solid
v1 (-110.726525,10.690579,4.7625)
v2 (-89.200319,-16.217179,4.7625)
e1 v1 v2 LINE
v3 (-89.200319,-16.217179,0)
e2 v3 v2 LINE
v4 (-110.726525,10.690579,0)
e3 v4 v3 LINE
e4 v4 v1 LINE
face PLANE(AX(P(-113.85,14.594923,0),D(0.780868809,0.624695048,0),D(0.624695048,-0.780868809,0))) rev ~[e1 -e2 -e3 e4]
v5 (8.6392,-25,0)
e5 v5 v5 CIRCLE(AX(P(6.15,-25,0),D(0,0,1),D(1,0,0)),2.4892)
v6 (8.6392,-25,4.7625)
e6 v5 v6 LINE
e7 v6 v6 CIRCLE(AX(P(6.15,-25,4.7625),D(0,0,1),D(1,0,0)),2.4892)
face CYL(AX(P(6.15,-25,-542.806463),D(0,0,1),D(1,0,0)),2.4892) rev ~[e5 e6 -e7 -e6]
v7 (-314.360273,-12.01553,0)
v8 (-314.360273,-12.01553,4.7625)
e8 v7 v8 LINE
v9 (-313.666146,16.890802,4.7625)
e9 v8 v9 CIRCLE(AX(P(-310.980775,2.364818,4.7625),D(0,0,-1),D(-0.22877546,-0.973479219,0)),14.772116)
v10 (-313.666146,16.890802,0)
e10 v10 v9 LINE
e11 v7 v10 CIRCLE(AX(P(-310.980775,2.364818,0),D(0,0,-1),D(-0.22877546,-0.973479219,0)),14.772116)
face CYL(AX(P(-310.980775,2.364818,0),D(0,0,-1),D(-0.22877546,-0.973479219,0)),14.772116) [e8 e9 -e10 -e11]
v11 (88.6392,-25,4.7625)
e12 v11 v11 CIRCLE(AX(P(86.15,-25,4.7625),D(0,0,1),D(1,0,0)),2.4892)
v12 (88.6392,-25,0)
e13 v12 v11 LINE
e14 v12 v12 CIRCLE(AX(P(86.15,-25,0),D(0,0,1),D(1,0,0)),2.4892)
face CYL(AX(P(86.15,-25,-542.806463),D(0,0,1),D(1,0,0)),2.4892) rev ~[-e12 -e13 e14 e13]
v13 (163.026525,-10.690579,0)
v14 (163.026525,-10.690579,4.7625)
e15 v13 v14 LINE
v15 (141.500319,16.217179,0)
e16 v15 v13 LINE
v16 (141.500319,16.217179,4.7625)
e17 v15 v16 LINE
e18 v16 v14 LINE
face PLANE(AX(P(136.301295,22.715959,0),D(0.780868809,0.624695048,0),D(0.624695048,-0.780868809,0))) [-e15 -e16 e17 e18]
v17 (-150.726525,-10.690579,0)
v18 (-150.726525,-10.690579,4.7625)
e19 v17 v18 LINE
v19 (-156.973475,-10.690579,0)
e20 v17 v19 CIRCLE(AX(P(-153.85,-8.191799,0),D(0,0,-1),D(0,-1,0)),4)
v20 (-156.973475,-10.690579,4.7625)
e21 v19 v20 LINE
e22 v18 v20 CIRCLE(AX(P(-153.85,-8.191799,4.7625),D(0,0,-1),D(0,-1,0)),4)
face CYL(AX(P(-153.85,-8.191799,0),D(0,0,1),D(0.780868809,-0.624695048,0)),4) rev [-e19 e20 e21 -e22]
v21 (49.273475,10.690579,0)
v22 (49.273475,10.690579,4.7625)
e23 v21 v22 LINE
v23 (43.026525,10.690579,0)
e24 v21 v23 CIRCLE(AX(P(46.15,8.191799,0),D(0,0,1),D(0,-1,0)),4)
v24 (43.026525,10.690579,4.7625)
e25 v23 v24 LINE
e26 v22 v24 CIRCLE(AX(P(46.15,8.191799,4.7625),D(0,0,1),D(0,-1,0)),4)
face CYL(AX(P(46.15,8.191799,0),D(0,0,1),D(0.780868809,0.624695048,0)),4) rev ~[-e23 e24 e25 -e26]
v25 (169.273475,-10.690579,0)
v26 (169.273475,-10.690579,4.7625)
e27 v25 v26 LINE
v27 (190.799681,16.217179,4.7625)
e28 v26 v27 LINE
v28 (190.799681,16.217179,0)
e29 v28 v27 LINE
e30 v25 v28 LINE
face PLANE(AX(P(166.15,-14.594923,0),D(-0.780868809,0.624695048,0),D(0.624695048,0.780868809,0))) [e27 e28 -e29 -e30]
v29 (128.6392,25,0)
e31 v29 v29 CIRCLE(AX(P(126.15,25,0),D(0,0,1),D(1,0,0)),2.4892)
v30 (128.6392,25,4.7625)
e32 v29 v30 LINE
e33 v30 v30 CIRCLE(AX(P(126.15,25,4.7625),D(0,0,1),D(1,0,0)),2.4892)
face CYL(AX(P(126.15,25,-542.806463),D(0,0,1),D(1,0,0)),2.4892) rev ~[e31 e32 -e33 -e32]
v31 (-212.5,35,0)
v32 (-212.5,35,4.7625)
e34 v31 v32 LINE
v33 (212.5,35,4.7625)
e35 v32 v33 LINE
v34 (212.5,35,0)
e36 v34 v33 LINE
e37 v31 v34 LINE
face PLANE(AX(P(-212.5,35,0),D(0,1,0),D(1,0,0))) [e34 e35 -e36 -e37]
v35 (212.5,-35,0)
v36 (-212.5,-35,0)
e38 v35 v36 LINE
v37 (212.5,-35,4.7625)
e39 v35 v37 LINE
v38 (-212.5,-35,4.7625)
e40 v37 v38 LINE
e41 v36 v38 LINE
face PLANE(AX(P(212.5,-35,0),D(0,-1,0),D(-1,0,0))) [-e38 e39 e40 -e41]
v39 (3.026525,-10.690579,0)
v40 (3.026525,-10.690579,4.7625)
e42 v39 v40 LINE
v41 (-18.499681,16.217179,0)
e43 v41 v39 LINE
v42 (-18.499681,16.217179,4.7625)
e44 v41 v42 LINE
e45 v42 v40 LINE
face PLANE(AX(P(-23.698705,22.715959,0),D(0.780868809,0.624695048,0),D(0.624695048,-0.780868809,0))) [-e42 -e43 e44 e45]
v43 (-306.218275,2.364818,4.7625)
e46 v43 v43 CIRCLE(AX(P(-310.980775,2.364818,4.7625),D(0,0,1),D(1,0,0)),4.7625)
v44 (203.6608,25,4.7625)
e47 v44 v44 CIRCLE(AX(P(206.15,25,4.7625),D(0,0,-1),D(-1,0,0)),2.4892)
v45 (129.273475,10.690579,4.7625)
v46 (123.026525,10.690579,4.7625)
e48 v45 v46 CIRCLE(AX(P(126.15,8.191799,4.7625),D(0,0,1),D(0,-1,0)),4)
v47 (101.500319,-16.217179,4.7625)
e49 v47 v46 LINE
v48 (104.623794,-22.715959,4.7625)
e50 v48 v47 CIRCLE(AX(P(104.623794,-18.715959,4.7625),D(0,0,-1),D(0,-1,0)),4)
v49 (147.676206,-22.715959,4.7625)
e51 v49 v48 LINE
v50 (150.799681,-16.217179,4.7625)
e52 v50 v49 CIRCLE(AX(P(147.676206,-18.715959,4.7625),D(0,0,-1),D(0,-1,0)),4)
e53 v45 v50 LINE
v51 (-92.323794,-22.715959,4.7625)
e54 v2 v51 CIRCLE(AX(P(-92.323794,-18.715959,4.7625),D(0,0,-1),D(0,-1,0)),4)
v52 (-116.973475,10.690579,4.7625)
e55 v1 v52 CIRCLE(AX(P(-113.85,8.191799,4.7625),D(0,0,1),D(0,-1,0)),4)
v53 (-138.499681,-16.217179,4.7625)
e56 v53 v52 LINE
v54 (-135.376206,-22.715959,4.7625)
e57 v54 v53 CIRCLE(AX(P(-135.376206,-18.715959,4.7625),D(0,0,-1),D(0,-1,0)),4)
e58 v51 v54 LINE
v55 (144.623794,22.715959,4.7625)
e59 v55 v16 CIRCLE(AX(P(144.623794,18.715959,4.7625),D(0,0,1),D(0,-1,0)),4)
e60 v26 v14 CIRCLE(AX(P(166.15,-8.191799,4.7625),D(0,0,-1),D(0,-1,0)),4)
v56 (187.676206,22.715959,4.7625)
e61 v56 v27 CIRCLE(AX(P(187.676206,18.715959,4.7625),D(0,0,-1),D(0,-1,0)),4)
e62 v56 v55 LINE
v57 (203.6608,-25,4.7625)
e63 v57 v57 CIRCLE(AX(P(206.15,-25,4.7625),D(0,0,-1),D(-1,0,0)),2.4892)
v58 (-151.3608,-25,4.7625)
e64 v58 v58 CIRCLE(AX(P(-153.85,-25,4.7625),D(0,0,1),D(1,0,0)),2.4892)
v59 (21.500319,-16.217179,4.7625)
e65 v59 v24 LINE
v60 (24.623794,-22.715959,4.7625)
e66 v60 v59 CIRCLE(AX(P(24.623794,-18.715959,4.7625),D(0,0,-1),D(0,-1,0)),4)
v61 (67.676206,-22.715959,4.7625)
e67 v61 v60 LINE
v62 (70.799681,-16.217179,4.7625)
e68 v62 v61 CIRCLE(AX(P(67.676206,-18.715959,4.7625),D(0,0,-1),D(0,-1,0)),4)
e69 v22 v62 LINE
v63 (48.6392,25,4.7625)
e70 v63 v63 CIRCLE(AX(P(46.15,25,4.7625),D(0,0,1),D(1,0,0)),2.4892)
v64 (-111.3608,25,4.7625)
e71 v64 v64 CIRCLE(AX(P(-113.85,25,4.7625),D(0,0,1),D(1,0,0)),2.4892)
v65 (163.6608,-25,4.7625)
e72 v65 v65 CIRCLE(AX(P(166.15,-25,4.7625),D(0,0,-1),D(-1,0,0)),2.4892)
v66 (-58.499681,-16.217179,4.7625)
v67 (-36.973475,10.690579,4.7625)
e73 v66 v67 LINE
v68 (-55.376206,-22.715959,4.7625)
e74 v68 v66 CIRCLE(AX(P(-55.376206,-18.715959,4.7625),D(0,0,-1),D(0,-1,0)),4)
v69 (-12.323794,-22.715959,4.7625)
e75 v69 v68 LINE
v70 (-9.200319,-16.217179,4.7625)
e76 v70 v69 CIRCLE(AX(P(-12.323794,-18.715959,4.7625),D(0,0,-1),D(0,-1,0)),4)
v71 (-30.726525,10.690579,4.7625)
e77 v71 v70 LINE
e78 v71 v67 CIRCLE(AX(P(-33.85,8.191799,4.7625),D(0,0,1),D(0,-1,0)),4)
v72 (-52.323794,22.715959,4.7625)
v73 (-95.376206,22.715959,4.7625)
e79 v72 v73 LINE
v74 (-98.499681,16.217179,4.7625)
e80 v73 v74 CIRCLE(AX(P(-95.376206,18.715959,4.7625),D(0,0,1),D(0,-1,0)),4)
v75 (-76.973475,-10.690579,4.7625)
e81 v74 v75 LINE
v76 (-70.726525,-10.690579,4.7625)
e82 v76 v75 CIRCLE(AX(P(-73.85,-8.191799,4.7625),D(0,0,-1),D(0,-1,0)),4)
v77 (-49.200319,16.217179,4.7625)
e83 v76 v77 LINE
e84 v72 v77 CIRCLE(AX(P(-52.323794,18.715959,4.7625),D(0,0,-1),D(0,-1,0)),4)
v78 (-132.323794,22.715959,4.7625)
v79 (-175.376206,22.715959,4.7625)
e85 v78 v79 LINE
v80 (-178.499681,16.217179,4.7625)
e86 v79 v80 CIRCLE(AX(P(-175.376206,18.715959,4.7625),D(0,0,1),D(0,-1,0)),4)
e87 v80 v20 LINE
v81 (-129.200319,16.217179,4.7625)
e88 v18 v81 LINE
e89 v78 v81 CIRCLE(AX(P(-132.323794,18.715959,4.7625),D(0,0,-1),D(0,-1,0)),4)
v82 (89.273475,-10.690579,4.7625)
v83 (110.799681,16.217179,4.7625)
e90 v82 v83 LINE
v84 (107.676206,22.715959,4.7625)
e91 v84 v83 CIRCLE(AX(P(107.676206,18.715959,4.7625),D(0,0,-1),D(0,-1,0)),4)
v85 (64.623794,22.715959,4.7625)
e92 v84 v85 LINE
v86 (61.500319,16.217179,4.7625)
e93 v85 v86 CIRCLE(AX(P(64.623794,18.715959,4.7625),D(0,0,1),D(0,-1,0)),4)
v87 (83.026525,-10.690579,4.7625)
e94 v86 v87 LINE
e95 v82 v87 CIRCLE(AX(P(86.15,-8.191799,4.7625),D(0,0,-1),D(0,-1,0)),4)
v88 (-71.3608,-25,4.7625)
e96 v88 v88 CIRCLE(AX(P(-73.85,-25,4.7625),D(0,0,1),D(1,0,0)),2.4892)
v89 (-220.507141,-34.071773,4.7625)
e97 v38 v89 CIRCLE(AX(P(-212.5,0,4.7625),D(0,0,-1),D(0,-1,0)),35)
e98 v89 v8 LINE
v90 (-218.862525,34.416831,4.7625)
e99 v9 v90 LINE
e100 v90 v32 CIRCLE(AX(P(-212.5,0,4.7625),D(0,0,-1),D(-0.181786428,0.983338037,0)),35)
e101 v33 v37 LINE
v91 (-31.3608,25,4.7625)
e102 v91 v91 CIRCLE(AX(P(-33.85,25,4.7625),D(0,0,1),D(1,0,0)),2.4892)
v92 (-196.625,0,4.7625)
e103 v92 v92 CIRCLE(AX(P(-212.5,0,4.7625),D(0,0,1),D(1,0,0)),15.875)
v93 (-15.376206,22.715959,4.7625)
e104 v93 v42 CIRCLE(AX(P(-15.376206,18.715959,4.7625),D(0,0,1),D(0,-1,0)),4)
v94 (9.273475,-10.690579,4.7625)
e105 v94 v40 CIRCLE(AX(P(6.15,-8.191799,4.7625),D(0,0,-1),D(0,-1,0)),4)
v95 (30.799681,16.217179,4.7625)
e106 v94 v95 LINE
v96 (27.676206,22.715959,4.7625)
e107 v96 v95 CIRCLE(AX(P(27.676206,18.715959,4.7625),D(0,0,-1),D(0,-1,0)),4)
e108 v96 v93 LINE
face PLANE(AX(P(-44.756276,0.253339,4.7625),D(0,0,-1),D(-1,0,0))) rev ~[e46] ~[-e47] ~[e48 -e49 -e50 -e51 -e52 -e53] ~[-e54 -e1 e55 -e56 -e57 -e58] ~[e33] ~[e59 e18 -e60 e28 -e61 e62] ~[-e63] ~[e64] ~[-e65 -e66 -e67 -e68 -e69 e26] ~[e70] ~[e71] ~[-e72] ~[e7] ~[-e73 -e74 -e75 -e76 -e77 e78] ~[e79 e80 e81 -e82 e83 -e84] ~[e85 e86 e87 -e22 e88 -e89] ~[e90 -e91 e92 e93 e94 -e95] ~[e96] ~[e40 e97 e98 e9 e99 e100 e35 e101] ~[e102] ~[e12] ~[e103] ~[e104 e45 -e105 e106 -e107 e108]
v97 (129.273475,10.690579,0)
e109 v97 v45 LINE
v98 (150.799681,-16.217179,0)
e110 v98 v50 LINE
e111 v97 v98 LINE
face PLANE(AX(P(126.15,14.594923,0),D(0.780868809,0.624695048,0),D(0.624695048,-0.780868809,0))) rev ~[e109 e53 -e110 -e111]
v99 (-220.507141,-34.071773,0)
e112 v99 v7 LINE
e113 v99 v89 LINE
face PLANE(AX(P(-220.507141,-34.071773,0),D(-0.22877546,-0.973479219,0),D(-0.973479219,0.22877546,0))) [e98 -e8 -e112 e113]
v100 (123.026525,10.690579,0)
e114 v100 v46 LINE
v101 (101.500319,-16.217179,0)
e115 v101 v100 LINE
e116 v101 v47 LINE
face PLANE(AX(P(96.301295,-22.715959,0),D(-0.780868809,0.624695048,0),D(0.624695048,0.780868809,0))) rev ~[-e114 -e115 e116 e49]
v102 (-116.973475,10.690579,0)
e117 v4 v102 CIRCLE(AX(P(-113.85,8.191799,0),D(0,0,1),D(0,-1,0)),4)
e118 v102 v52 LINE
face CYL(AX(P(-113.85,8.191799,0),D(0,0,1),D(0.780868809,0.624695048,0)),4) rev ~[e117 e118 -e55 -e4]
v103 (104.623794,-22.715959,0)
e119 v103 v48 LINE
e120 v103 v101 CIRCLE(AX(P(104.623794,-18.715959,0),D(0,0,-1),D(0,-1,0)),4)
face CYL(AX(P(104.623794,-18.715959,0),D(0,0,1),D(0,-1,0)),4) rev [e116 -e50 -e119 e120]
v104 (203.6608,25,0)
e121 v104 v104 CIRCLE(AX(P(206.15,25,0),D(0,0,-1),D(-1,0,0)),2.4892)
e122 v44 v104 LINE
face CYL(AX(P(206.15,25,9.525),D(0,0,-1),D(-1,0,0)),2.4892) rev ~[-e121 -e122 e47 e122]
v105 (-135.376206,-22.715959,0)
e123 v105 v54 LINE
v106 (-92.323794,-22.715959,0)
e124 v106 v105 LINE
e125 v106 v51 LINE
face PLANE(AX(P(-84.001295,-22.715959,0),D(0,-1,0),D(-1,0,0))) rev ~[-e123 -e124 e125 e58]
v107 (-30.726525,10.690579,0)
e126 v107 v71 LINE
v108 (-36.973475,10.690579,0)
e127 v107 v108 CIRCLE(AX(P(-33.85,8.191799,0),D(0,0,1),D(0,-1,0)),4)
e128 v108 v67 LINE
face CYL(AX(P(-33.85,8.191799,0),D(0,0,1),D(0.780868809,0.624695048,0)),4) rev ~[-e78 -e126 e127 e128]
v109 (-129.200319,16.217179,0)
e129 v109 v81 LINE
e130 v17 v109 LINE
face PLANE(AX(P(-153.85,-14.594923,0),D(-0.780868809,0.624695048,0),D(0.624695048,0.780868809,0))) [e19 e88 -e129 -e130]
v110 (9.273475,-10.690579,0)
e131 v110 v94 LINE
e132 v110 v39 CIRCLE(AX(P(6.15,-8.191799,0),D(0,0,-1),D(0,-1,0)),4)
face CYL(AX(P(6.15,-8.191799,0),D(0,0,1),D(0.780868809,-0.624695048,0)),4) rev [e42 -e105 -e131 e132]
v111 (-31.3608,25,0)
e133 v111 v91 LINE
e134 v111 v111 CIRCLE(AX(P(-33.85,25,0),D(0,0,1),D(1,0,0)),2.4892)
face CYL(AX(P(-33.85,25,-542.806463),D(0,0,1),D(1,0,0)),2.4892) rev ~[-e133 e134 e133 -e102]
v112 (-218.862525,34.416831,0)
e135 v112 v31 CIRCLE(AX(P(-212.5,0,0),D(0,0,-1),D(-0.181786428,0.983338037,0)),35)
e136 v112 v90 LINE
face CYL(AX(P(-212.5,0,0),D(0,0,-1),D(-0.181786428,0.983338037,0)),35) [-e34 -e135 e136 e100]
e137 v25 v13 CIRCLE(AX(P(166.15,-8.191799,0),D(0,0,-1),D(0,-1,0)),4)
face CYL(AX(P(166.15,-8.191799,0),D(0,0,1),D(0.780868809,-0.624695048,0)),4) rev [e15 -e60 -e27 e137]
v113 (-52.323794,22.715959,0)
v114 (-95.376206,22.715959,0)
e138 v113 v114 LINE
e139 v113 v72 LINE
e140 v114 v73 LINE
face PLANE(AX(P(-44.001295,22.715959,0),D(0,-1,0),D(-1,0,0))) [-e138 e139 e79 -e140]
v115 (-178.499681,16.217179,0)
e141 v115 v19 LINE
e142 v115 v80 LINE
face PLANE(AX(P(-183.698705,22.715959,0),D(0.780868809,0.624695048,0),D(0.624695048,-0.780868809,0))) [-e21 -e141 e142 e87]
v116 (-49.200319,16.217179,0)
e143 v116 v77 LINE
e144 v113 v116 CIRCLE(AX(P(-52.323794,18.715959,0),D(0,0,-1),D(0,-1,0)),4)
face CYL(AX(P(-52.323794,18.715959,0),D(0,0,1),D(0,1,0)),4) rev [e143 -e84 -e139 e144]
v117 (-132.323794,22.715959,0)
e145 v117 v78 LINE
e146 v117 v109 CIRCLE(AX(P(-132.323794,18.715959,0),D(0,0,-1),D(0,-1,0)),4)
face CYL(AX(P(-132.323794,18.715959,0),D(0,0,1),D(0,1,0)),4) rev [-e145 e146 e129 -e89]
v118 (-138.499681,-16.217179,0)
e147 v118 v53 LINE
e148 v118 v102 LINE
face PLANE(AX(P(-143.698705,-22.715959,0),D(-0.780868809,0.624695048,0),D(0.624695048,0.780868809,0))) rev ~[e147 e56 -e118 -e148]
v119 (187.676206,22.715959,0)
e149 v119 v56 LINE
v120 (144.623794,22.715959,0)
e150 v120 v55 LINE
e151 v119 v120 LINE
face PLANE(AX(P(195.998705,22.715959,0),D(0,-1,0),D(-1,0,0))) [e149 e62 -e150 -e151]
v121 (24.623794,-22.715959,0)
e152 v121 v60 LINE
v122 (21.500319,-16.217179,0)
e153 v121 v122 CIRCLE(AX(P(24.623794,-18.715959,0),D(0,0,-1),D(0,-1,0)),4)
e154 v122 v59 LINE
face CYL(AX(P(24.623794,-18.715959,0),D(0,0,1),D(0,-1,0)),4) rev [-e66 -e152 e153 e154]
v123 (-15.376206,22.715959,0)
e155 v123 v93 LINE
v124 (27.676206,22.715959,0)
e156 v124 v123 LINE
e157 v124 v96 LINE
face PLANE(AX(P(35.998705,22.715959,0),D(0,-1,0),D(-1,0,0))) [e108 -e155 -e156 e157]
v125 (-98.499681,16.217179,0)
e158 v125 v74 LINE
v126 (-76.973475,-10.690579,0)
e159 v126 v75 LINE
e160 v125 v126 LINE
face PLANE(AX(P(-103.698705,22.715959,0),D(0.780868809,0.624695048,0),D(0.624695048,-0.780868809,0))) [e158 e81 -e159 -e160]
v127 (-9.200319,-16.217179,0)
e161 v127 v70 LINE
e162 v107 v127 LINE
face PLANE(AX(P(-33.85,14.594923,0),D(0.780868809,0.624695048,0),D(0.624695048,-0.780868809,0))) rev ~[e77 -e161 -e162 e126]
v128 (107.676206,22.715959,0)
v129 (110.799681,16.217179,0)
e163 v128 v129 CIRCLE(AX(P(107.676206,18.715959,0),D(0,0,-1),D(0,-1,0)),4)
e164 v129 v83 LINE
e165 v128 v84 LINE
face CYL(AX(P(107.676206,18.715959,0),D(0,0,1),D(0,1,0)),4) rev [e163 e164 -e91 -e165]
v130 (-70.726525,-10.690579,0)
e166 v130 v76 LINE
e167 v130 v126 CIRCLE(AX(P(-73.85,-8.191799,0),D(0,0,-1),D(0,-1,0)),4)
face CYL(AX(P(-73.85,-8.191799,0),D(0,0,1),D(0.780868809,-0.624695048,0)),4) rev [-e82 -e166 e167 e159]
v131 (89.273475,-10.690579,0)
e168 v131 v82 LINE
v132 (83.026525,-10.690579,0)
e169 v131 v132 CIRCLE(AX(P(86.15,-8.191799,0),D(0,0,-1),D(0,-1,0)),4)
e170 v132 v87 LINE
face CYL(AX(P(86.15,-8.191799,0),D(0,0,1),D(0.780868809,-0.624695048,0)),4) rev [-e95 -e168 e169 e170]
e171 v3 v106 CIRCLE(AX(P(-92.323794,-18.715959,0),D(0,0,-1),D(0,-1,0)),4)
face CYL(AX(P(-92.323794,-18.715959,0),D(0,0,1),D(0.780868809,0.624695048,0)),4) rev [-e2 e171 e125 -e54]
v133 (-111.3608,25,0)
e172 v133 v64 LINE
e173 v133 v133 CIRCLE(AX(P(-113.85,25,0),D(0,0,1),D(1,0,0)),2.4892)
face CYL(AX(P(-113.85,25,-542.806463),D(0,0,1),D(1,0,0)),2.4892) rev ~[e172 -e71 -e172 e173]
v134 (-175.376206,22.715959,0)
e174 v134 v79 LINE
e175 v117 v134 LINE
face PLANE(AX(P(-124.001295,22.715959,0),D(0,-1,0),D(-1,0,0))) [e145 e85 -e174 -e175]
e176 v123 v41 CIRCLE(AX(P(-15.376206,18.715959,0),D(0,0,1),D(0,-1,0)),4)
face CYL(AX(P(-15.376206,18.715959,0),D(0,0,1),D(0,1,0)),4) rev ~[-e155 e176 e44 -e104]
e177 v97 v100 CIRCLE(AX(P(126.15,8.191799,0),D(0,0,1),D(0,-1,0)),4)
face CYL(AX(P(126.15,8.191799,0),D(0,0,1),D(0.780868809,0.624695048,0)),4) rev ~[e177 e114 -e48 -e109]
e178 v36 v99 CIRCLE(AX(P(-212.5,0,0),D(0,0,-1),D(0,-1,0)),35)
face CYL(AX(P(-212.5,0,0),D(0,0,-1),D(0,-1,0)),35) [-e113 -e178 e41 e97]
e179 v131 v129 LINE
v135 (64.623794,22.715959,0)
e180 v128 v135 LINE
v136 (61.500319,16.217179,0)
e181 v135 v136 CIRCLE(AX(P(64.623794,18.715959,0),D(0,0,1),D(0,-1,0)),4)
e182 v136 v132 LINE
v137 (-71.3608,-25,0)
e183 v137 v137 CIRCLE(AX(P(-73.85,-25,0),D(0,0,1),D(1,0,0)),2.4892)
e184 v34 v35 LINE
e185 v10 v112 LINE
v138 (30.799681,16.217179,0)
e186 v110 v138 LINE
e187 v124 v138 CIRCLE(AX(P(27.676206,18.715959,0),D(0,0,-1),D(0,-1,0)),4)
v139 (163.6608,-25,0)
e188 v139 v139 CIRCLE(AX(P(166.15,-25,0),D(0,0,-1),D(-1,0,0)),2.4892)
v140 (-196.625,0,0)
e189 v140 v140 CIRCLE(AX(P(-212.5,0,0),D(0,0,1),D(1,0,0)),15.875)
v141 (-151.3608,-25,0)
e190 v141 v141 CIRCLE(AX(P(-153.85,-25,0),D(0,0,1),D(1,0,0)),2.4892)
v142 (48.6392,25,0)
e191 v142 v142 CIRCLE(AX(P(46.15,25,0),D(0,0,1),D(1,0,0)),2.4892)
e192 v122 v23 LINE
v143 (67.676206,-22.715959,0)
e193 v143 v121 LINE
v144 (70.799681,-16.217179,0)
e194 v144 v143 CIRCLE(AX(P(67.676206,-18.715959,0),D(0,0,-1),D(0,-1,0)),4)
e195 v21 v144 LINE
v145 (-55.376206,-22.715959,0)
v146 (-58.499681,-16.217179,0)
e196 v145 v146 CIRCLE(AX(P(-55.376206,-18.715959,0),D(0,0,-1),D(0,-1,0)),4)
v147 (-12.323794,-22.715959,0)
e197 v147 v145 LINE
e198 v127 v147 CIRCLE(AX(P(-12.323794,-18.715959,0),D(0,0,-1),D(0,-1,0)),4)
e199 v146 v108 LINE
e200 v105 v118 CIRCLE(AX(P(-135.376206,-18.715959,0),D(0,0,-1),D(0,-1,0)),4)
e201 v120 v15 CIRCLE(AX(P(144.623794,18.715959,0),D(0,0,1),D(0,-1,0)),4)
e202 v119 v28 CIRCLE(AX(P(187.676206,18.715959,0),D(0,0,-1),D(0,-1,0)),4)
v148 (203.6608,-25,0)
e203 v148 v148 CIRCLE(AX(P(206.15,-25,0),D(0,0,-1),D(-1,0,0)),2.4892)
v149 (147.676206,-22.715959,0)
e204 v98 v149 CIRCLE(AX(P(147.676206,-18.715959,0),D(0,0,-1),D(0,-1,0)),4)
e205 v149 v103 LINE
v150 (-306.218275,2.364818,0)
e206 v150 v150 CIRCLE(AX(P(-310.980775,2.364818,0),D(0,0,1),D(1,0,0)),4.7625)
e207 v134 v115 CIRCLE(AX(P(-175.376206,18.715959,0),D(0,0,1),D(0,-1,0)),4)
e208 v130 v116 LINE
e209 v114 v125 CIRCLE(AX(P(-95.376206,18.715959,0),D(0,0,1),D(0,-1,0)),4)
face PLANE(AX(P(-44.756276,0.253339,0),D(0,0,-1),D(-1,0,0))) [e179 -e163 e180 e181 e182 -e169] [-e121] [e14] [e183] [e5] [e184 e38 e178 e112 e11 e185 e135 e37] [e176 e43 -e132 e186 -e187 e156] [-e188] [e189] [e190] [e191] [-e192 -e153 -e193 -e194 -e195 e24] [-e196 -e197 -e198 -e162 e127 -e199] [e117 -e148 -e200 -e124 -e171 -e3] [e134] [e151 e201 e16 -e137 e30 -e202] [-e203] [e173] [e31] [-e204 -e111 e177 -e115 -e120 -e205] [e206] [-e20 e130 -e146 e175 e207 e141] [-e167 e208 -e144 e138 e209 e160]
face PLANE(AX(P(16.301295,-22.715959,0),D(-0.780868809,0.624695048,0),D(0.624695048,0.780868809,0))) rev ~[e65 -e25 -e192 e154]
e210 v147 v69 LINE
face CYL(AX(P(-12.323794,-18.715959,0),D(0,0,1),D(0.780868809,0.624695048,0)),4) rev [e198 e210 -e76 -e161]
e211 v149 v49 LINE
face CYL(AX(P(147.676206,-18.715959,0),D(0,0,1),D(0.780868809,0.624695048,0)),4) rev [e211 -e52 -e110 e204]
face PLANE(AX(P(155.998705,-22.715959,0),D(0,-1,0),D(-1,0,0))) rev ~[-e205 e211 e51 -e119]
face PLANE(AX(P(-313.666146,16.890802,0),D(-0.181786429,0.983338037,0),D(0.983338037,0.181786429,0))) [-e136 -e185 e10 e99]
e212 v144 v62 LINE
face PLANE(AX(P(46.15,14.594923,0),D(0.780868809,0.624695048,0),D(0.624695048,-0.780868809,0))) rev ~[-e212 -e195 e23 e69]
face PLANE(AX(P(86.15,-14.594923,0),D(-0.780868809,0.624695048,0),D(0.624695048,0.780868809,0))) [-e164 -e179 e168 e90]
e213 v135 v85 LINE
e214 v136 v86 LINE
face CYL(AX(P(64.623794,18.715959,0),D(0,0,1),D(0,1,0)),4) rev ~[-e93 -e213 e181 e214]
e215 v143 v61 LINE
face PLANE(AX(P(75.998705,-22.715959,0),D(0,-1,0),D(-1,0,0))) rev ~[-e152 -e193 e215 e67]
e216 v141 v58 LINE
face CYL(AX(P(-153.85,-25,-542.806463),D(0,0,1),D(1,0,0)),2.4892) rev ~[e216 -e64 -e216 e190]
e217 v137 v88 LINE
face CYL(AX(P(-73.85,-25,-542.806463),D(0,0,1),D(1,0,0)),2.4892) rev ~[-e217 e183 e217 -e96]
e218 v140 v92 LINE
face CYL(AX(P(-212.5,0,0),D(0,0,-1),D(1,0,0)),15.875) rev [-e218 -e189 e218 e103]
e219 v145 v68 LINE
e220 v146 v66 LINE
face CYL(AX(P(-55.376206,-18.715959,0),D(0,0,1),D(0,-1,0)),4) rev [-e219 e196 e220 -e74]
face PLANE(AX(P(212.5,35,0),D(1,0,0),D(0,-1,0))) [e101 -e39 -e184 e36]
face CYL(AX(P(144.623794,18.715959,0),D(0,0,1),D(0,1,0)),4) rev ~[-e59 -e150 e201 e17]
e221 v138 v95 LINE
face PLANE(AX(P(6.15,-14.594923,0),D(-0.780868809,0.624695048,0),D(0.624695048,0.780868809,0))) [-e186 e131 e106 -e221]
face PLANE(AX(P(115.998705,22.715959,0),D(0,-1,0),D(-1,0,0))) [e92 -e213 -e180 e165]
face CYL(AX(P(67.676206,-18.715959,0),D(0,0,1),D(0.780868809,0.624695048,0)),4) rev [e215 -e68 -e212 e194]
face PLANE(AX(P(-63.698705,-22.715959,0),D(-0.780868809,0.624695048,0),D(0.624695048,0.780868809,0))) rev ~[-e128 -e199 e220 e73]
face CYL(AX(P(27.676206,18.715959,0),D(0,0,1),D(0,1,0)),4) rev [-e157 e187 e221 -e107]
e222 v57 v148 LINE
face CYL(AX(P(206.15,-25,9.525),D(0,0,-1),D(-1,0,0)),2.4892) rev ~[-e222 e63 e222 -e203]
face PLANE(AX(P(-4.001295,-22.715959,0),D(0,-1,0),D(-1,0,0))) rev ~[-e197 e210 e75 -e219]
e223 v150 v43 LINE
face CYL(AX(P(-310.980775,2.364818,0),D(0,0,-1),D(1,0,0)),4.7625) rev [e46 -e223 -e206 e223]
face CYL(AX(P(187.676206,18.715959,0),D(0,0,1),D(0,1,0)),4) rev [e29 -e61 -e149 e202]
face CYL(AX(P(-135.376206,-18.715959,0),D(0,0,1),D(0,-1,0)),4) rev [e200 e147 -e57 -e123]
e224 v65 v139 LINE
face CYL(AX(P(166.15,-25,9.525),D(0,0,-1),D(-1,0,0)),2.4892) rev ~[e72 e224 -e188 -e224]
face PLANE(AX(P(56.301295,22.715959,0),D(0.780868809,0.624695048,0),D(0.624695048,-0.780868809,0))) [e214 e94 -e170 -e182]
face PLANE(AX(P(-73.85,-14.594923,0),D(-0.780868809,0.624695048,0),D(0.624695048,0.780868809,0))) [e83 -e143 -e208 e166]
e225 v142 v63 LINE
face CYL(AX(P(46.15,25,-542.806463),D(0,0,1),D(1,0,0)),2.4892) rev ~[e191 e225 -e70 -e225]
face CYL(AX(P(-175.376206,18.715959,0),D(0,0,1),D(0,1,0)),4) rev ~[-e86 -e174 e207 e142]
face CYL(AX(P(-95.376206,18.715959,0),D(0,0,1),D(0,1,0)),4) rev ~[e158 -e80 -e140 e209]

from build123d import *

# Parameters (mm, degrees)
SKETCH1_R                  = 15.875
SKETCH1_R_2                = 4.7625
BOSS_EXTRUDE1_DEPTH        = 4.7625
F_10_CLEARANCE_HOLE1_D     = 4.9784
LPATTERN1_COUNT            = 4
LPATTERN1_PITCH            = 80
CUT_EXTRUDE1_DEPTH         = 10
FILLET1_R                  = 4
CUT_EXTRUDE2_DEPTH         = 5.7625
FILLET2_R                  = 4
LPATTERN2_COUNT            = 4
LPATTERN2_PITCH            = 80
FILLET1_OF_LPATTERN2_R     = 4
LPATTERN3_COUNT            = 3
LPATTERN3_PITCH            = 80
FILLET2_OF_LPATTERN3_R     = 4
LPATTERN4_COUNT            = 2
LPATTERN4_PITCH            = 80
FILLET2_OF_LPATTERN4_R     = 4
LPATTERN5_COUNT            = 2
LPATTERN5_PITCH            = 80
FILLET1_OF_LPATTERN5_R     = 4
F_10_CLEARANCE_HOLE2_D     = 4.9784
F_10_CLEARANCE_HOLE2_DEPTH = 4.7625


with BuildPart() as part:
    # Sketch1 → Boss-Extrude1 (new body)
    with BuildSketch(Plane.XY):
        with BuildLine():
            Line((-212.5, 35), (212.5, 35))
            Line((212.5, 35), (212.5, -35))
            Line((212.5, -35), (-212.5, -35))
            ThreePointArc((-212.5, -35), (-216.530381946, -34.767168728), (-220.507141095, -34.07177265))
            Line((-220.507141095, -34.07177265), (-314.360273, -12.015530461))
            ThreePointArc((-314.360273, -12.015530461), (-325.748634462, 2.719438205), (-313.666145568, 16.890801601))
            Line((-313.666145568, 16.890801601), (-218.862525007, 34.416831283))
            ThreePointArc((-218.862525007, 34.416831283), (-215.694597401, 34.853902901), (-212.5, 35))
        make_face()
        with Locations((-212.5, 0)):
            Circle(SKETCH1_R, mode=Mode.SUBTRACT)
        with Locations((-310.980775301, 2.364817767)):
            Circle(SKETCH1_R_2, mode=Mode.SUBTRACT)
    extrude(amount=BOSS_EXTRUDE1_DEPTH)

    # #10 Clearance Hole1 (through all)
    with Locations(Plane(origin=(0, 0, 0), x_dir=(-1, 0, 0), z_dir=(0, 0, -1))):
        with Locations((-126.15, 25), (-86.15, -25)):
            f_10_clearance_hole1 = Hole(F_10_CLEARANCE_HOLE1_D / 2)

    # LPattern1: #10 Clearance Hole1 ×4
    with Locations(*[(-i * LPATTERN1_PITCH, 0, 0) for i in range(1, LPATTERN1_COUNT)]):
        add(f_10_clearance_hole1, mode=Mode.SUBTRACT)

    # Sketch13 → Cut-Extrude1 (cut)
    with BuildSketch(Plane(origin=(0, 0, 0), x_dir=(-1, 0, 0), z_dir=(0, 0, -1))):
        Polygon((-56.301294523, 22.715958732), (-86.15, -14.594923114), (-115.998705477, 22.715958732), align=None)
    cut_extrude1 = extrude(amount=-CUT_EXTRUDE1_DEPTH, mode=Mode.SUBTRACT)

    # Fillet1
    fillet1_edges = [part.edges().sort_by_distance(p)[0] for p in [
        (56.301294523, 22.715958732, 2.38125),
        (86.15, -14.594923114, 2.38125),
        (115.998705477, 22.715958732, 2.38125),
    ]]
    fillet(fillet1_edges, radius=FILLET1_R)

    # Sketch14 → Cut-Extrude2 (cut, through all)
    with BuildSketch(Plane(origin=(0, 0, 0), x_dir=(-1, 0, 0), z_dir=(0, 0, -1))):
        Polygon((-46.15, 14.594923114), (-75.998705477, -22.715958732), (-16.301294523, -22.715958732), align=None)
    cut_extrude2 = extrude(amount=-CUT_EXTRUDE2_DEPTH, mode=Mode.SUBTRACT)

    # Fillet2
    fillet2_edges = [part.edges().sort_by_distance(p)[0] for p in [
        (46.15, 14.594923114, 2.38125),
        (16.301294523, -22.715958732, 2.38125),
        (75.998705477, -22.715958732, 2.38125),
    ]]
    fillet(fillet2_edges, radius=FILLET2_R)

    # LPattern2: Cut-Extrude1 ×4
    with Locations(*[(-i * LPATTERN2_PITCH, 0, 0) for i in range(1, LPATTERN2_COUNT)]):
        add(cut_extrude1, mode=Mode.SUBTRACT)

    # Fillet1 of LPattern2
    fillet1_of_lpattern2_edges = [part.edges().sort_by_distance(p)[0] for p in [
        (-23.698705477, 22.715958732, 2.38125),
        (6.15, -14.594923114, 2.38125),
        (35.998705477, 22.715958732, 2.38125),
        (-103.698705477, 22.715958732, 2.38125),
        (-73.85, -14.594923114, 2.38125),
        (-44.001294523, 22.715958732, 2.38125),
        (-183.698705477, 22.715958732, 2.38125),
        (-153.85, -14.594923114, 2.38125),
        (-124.001294523, 22.715958732, 2.38125),
    ]]
    fillet(fillet1_of_lpattern2_edges, radius=FILLET1_OF_LPATTERN2_R)

    # LPattern3: Cut-Extrude2 ×3
    with Locations(*[(-i * LPATTERN3_PITCH, 0, 0) for i in range(1, LPATTERN3_COUNT)]):
        add(cut_extrude2, mode=Mode.SUBTRACT)

    # Fillet2 of LPattern3
    fillet2_of_lpattern3_edges = [part.edges().sort_by_distance(p)[0] for p in [
        (-33.85, 14.594923114, 2.38125),
        (-63.698705477, -22.715958732, 2.38125),
        (-4.001294523, -22.715958732, 2.38125),
        (-113.85, 14.594923114, 2.38125),
        (-143.698705477, -22.715958732, 2.38125),
        (-84.001294523, -22.715958732, 2.38125),
    ]]
    fillet(fillet2_of_lpattern3_edges, radius=FILLET2_OF_LPATTERN3_R)

    # LPattern4: Cut-Extrude2 ×2
    with Locations(*[(i * LPATTERN4_PITCH, 0, 0) for i in range(1, LPATTERN4_COUNT)]):
        add(cut_extrude2, mode=Mode.SUBTRACT)

    # Fillet2 of LPattern4
    fillet2_of_lpattern4_edges = [part.edges().sort_by_distance(p)[0] for p in [
        (126.15, 14.594923114, 2.38125),
        (96.301294523, -22.715958732, 2.38125),
        (155.998705477, -22.715958732, 2.38125),
    ]]
    fillet(fillet2_of_lpattern4_edges, radius=FILLET2_OF_LPATTERN4_R)

    # LPattern5: Cut-Extrude1 ×2
    with Locations(*[(i * LPATTERN5_PITCH, 0, 0) for i in range(1, LPATTERN5_COUNT)]):
        add(cut_extrude1, mode=Mode.SUBTRACT)

    # Fillet1 of LPattern5
    fillet1_of_lpattern5_edges = [part.edges().sort_by_distance(p)[0] for p in [
        (136.301294523, 22.715958732, 2.38125),
        (166.15, -14.594923114, 2.38125),
        (195.998705477, 22.715958732, 2.38125),
    ]]
    fillet(fillet1_of_lpattern5_edges, radius=FILLET1_OF_LPATTERN5_R)

    # #10 Clearance Hole2
    with Locations(Plane.XY.offset(4.7625)):
        with Locations((206.15, 25), (206.15, -25), (166.15, -25)):
            Hole(F_10_CLEARANCE_HOLE2_D / 2, depth=F_10_CLEARANCE_HOLE2_DEPTH)


solid = part.part
